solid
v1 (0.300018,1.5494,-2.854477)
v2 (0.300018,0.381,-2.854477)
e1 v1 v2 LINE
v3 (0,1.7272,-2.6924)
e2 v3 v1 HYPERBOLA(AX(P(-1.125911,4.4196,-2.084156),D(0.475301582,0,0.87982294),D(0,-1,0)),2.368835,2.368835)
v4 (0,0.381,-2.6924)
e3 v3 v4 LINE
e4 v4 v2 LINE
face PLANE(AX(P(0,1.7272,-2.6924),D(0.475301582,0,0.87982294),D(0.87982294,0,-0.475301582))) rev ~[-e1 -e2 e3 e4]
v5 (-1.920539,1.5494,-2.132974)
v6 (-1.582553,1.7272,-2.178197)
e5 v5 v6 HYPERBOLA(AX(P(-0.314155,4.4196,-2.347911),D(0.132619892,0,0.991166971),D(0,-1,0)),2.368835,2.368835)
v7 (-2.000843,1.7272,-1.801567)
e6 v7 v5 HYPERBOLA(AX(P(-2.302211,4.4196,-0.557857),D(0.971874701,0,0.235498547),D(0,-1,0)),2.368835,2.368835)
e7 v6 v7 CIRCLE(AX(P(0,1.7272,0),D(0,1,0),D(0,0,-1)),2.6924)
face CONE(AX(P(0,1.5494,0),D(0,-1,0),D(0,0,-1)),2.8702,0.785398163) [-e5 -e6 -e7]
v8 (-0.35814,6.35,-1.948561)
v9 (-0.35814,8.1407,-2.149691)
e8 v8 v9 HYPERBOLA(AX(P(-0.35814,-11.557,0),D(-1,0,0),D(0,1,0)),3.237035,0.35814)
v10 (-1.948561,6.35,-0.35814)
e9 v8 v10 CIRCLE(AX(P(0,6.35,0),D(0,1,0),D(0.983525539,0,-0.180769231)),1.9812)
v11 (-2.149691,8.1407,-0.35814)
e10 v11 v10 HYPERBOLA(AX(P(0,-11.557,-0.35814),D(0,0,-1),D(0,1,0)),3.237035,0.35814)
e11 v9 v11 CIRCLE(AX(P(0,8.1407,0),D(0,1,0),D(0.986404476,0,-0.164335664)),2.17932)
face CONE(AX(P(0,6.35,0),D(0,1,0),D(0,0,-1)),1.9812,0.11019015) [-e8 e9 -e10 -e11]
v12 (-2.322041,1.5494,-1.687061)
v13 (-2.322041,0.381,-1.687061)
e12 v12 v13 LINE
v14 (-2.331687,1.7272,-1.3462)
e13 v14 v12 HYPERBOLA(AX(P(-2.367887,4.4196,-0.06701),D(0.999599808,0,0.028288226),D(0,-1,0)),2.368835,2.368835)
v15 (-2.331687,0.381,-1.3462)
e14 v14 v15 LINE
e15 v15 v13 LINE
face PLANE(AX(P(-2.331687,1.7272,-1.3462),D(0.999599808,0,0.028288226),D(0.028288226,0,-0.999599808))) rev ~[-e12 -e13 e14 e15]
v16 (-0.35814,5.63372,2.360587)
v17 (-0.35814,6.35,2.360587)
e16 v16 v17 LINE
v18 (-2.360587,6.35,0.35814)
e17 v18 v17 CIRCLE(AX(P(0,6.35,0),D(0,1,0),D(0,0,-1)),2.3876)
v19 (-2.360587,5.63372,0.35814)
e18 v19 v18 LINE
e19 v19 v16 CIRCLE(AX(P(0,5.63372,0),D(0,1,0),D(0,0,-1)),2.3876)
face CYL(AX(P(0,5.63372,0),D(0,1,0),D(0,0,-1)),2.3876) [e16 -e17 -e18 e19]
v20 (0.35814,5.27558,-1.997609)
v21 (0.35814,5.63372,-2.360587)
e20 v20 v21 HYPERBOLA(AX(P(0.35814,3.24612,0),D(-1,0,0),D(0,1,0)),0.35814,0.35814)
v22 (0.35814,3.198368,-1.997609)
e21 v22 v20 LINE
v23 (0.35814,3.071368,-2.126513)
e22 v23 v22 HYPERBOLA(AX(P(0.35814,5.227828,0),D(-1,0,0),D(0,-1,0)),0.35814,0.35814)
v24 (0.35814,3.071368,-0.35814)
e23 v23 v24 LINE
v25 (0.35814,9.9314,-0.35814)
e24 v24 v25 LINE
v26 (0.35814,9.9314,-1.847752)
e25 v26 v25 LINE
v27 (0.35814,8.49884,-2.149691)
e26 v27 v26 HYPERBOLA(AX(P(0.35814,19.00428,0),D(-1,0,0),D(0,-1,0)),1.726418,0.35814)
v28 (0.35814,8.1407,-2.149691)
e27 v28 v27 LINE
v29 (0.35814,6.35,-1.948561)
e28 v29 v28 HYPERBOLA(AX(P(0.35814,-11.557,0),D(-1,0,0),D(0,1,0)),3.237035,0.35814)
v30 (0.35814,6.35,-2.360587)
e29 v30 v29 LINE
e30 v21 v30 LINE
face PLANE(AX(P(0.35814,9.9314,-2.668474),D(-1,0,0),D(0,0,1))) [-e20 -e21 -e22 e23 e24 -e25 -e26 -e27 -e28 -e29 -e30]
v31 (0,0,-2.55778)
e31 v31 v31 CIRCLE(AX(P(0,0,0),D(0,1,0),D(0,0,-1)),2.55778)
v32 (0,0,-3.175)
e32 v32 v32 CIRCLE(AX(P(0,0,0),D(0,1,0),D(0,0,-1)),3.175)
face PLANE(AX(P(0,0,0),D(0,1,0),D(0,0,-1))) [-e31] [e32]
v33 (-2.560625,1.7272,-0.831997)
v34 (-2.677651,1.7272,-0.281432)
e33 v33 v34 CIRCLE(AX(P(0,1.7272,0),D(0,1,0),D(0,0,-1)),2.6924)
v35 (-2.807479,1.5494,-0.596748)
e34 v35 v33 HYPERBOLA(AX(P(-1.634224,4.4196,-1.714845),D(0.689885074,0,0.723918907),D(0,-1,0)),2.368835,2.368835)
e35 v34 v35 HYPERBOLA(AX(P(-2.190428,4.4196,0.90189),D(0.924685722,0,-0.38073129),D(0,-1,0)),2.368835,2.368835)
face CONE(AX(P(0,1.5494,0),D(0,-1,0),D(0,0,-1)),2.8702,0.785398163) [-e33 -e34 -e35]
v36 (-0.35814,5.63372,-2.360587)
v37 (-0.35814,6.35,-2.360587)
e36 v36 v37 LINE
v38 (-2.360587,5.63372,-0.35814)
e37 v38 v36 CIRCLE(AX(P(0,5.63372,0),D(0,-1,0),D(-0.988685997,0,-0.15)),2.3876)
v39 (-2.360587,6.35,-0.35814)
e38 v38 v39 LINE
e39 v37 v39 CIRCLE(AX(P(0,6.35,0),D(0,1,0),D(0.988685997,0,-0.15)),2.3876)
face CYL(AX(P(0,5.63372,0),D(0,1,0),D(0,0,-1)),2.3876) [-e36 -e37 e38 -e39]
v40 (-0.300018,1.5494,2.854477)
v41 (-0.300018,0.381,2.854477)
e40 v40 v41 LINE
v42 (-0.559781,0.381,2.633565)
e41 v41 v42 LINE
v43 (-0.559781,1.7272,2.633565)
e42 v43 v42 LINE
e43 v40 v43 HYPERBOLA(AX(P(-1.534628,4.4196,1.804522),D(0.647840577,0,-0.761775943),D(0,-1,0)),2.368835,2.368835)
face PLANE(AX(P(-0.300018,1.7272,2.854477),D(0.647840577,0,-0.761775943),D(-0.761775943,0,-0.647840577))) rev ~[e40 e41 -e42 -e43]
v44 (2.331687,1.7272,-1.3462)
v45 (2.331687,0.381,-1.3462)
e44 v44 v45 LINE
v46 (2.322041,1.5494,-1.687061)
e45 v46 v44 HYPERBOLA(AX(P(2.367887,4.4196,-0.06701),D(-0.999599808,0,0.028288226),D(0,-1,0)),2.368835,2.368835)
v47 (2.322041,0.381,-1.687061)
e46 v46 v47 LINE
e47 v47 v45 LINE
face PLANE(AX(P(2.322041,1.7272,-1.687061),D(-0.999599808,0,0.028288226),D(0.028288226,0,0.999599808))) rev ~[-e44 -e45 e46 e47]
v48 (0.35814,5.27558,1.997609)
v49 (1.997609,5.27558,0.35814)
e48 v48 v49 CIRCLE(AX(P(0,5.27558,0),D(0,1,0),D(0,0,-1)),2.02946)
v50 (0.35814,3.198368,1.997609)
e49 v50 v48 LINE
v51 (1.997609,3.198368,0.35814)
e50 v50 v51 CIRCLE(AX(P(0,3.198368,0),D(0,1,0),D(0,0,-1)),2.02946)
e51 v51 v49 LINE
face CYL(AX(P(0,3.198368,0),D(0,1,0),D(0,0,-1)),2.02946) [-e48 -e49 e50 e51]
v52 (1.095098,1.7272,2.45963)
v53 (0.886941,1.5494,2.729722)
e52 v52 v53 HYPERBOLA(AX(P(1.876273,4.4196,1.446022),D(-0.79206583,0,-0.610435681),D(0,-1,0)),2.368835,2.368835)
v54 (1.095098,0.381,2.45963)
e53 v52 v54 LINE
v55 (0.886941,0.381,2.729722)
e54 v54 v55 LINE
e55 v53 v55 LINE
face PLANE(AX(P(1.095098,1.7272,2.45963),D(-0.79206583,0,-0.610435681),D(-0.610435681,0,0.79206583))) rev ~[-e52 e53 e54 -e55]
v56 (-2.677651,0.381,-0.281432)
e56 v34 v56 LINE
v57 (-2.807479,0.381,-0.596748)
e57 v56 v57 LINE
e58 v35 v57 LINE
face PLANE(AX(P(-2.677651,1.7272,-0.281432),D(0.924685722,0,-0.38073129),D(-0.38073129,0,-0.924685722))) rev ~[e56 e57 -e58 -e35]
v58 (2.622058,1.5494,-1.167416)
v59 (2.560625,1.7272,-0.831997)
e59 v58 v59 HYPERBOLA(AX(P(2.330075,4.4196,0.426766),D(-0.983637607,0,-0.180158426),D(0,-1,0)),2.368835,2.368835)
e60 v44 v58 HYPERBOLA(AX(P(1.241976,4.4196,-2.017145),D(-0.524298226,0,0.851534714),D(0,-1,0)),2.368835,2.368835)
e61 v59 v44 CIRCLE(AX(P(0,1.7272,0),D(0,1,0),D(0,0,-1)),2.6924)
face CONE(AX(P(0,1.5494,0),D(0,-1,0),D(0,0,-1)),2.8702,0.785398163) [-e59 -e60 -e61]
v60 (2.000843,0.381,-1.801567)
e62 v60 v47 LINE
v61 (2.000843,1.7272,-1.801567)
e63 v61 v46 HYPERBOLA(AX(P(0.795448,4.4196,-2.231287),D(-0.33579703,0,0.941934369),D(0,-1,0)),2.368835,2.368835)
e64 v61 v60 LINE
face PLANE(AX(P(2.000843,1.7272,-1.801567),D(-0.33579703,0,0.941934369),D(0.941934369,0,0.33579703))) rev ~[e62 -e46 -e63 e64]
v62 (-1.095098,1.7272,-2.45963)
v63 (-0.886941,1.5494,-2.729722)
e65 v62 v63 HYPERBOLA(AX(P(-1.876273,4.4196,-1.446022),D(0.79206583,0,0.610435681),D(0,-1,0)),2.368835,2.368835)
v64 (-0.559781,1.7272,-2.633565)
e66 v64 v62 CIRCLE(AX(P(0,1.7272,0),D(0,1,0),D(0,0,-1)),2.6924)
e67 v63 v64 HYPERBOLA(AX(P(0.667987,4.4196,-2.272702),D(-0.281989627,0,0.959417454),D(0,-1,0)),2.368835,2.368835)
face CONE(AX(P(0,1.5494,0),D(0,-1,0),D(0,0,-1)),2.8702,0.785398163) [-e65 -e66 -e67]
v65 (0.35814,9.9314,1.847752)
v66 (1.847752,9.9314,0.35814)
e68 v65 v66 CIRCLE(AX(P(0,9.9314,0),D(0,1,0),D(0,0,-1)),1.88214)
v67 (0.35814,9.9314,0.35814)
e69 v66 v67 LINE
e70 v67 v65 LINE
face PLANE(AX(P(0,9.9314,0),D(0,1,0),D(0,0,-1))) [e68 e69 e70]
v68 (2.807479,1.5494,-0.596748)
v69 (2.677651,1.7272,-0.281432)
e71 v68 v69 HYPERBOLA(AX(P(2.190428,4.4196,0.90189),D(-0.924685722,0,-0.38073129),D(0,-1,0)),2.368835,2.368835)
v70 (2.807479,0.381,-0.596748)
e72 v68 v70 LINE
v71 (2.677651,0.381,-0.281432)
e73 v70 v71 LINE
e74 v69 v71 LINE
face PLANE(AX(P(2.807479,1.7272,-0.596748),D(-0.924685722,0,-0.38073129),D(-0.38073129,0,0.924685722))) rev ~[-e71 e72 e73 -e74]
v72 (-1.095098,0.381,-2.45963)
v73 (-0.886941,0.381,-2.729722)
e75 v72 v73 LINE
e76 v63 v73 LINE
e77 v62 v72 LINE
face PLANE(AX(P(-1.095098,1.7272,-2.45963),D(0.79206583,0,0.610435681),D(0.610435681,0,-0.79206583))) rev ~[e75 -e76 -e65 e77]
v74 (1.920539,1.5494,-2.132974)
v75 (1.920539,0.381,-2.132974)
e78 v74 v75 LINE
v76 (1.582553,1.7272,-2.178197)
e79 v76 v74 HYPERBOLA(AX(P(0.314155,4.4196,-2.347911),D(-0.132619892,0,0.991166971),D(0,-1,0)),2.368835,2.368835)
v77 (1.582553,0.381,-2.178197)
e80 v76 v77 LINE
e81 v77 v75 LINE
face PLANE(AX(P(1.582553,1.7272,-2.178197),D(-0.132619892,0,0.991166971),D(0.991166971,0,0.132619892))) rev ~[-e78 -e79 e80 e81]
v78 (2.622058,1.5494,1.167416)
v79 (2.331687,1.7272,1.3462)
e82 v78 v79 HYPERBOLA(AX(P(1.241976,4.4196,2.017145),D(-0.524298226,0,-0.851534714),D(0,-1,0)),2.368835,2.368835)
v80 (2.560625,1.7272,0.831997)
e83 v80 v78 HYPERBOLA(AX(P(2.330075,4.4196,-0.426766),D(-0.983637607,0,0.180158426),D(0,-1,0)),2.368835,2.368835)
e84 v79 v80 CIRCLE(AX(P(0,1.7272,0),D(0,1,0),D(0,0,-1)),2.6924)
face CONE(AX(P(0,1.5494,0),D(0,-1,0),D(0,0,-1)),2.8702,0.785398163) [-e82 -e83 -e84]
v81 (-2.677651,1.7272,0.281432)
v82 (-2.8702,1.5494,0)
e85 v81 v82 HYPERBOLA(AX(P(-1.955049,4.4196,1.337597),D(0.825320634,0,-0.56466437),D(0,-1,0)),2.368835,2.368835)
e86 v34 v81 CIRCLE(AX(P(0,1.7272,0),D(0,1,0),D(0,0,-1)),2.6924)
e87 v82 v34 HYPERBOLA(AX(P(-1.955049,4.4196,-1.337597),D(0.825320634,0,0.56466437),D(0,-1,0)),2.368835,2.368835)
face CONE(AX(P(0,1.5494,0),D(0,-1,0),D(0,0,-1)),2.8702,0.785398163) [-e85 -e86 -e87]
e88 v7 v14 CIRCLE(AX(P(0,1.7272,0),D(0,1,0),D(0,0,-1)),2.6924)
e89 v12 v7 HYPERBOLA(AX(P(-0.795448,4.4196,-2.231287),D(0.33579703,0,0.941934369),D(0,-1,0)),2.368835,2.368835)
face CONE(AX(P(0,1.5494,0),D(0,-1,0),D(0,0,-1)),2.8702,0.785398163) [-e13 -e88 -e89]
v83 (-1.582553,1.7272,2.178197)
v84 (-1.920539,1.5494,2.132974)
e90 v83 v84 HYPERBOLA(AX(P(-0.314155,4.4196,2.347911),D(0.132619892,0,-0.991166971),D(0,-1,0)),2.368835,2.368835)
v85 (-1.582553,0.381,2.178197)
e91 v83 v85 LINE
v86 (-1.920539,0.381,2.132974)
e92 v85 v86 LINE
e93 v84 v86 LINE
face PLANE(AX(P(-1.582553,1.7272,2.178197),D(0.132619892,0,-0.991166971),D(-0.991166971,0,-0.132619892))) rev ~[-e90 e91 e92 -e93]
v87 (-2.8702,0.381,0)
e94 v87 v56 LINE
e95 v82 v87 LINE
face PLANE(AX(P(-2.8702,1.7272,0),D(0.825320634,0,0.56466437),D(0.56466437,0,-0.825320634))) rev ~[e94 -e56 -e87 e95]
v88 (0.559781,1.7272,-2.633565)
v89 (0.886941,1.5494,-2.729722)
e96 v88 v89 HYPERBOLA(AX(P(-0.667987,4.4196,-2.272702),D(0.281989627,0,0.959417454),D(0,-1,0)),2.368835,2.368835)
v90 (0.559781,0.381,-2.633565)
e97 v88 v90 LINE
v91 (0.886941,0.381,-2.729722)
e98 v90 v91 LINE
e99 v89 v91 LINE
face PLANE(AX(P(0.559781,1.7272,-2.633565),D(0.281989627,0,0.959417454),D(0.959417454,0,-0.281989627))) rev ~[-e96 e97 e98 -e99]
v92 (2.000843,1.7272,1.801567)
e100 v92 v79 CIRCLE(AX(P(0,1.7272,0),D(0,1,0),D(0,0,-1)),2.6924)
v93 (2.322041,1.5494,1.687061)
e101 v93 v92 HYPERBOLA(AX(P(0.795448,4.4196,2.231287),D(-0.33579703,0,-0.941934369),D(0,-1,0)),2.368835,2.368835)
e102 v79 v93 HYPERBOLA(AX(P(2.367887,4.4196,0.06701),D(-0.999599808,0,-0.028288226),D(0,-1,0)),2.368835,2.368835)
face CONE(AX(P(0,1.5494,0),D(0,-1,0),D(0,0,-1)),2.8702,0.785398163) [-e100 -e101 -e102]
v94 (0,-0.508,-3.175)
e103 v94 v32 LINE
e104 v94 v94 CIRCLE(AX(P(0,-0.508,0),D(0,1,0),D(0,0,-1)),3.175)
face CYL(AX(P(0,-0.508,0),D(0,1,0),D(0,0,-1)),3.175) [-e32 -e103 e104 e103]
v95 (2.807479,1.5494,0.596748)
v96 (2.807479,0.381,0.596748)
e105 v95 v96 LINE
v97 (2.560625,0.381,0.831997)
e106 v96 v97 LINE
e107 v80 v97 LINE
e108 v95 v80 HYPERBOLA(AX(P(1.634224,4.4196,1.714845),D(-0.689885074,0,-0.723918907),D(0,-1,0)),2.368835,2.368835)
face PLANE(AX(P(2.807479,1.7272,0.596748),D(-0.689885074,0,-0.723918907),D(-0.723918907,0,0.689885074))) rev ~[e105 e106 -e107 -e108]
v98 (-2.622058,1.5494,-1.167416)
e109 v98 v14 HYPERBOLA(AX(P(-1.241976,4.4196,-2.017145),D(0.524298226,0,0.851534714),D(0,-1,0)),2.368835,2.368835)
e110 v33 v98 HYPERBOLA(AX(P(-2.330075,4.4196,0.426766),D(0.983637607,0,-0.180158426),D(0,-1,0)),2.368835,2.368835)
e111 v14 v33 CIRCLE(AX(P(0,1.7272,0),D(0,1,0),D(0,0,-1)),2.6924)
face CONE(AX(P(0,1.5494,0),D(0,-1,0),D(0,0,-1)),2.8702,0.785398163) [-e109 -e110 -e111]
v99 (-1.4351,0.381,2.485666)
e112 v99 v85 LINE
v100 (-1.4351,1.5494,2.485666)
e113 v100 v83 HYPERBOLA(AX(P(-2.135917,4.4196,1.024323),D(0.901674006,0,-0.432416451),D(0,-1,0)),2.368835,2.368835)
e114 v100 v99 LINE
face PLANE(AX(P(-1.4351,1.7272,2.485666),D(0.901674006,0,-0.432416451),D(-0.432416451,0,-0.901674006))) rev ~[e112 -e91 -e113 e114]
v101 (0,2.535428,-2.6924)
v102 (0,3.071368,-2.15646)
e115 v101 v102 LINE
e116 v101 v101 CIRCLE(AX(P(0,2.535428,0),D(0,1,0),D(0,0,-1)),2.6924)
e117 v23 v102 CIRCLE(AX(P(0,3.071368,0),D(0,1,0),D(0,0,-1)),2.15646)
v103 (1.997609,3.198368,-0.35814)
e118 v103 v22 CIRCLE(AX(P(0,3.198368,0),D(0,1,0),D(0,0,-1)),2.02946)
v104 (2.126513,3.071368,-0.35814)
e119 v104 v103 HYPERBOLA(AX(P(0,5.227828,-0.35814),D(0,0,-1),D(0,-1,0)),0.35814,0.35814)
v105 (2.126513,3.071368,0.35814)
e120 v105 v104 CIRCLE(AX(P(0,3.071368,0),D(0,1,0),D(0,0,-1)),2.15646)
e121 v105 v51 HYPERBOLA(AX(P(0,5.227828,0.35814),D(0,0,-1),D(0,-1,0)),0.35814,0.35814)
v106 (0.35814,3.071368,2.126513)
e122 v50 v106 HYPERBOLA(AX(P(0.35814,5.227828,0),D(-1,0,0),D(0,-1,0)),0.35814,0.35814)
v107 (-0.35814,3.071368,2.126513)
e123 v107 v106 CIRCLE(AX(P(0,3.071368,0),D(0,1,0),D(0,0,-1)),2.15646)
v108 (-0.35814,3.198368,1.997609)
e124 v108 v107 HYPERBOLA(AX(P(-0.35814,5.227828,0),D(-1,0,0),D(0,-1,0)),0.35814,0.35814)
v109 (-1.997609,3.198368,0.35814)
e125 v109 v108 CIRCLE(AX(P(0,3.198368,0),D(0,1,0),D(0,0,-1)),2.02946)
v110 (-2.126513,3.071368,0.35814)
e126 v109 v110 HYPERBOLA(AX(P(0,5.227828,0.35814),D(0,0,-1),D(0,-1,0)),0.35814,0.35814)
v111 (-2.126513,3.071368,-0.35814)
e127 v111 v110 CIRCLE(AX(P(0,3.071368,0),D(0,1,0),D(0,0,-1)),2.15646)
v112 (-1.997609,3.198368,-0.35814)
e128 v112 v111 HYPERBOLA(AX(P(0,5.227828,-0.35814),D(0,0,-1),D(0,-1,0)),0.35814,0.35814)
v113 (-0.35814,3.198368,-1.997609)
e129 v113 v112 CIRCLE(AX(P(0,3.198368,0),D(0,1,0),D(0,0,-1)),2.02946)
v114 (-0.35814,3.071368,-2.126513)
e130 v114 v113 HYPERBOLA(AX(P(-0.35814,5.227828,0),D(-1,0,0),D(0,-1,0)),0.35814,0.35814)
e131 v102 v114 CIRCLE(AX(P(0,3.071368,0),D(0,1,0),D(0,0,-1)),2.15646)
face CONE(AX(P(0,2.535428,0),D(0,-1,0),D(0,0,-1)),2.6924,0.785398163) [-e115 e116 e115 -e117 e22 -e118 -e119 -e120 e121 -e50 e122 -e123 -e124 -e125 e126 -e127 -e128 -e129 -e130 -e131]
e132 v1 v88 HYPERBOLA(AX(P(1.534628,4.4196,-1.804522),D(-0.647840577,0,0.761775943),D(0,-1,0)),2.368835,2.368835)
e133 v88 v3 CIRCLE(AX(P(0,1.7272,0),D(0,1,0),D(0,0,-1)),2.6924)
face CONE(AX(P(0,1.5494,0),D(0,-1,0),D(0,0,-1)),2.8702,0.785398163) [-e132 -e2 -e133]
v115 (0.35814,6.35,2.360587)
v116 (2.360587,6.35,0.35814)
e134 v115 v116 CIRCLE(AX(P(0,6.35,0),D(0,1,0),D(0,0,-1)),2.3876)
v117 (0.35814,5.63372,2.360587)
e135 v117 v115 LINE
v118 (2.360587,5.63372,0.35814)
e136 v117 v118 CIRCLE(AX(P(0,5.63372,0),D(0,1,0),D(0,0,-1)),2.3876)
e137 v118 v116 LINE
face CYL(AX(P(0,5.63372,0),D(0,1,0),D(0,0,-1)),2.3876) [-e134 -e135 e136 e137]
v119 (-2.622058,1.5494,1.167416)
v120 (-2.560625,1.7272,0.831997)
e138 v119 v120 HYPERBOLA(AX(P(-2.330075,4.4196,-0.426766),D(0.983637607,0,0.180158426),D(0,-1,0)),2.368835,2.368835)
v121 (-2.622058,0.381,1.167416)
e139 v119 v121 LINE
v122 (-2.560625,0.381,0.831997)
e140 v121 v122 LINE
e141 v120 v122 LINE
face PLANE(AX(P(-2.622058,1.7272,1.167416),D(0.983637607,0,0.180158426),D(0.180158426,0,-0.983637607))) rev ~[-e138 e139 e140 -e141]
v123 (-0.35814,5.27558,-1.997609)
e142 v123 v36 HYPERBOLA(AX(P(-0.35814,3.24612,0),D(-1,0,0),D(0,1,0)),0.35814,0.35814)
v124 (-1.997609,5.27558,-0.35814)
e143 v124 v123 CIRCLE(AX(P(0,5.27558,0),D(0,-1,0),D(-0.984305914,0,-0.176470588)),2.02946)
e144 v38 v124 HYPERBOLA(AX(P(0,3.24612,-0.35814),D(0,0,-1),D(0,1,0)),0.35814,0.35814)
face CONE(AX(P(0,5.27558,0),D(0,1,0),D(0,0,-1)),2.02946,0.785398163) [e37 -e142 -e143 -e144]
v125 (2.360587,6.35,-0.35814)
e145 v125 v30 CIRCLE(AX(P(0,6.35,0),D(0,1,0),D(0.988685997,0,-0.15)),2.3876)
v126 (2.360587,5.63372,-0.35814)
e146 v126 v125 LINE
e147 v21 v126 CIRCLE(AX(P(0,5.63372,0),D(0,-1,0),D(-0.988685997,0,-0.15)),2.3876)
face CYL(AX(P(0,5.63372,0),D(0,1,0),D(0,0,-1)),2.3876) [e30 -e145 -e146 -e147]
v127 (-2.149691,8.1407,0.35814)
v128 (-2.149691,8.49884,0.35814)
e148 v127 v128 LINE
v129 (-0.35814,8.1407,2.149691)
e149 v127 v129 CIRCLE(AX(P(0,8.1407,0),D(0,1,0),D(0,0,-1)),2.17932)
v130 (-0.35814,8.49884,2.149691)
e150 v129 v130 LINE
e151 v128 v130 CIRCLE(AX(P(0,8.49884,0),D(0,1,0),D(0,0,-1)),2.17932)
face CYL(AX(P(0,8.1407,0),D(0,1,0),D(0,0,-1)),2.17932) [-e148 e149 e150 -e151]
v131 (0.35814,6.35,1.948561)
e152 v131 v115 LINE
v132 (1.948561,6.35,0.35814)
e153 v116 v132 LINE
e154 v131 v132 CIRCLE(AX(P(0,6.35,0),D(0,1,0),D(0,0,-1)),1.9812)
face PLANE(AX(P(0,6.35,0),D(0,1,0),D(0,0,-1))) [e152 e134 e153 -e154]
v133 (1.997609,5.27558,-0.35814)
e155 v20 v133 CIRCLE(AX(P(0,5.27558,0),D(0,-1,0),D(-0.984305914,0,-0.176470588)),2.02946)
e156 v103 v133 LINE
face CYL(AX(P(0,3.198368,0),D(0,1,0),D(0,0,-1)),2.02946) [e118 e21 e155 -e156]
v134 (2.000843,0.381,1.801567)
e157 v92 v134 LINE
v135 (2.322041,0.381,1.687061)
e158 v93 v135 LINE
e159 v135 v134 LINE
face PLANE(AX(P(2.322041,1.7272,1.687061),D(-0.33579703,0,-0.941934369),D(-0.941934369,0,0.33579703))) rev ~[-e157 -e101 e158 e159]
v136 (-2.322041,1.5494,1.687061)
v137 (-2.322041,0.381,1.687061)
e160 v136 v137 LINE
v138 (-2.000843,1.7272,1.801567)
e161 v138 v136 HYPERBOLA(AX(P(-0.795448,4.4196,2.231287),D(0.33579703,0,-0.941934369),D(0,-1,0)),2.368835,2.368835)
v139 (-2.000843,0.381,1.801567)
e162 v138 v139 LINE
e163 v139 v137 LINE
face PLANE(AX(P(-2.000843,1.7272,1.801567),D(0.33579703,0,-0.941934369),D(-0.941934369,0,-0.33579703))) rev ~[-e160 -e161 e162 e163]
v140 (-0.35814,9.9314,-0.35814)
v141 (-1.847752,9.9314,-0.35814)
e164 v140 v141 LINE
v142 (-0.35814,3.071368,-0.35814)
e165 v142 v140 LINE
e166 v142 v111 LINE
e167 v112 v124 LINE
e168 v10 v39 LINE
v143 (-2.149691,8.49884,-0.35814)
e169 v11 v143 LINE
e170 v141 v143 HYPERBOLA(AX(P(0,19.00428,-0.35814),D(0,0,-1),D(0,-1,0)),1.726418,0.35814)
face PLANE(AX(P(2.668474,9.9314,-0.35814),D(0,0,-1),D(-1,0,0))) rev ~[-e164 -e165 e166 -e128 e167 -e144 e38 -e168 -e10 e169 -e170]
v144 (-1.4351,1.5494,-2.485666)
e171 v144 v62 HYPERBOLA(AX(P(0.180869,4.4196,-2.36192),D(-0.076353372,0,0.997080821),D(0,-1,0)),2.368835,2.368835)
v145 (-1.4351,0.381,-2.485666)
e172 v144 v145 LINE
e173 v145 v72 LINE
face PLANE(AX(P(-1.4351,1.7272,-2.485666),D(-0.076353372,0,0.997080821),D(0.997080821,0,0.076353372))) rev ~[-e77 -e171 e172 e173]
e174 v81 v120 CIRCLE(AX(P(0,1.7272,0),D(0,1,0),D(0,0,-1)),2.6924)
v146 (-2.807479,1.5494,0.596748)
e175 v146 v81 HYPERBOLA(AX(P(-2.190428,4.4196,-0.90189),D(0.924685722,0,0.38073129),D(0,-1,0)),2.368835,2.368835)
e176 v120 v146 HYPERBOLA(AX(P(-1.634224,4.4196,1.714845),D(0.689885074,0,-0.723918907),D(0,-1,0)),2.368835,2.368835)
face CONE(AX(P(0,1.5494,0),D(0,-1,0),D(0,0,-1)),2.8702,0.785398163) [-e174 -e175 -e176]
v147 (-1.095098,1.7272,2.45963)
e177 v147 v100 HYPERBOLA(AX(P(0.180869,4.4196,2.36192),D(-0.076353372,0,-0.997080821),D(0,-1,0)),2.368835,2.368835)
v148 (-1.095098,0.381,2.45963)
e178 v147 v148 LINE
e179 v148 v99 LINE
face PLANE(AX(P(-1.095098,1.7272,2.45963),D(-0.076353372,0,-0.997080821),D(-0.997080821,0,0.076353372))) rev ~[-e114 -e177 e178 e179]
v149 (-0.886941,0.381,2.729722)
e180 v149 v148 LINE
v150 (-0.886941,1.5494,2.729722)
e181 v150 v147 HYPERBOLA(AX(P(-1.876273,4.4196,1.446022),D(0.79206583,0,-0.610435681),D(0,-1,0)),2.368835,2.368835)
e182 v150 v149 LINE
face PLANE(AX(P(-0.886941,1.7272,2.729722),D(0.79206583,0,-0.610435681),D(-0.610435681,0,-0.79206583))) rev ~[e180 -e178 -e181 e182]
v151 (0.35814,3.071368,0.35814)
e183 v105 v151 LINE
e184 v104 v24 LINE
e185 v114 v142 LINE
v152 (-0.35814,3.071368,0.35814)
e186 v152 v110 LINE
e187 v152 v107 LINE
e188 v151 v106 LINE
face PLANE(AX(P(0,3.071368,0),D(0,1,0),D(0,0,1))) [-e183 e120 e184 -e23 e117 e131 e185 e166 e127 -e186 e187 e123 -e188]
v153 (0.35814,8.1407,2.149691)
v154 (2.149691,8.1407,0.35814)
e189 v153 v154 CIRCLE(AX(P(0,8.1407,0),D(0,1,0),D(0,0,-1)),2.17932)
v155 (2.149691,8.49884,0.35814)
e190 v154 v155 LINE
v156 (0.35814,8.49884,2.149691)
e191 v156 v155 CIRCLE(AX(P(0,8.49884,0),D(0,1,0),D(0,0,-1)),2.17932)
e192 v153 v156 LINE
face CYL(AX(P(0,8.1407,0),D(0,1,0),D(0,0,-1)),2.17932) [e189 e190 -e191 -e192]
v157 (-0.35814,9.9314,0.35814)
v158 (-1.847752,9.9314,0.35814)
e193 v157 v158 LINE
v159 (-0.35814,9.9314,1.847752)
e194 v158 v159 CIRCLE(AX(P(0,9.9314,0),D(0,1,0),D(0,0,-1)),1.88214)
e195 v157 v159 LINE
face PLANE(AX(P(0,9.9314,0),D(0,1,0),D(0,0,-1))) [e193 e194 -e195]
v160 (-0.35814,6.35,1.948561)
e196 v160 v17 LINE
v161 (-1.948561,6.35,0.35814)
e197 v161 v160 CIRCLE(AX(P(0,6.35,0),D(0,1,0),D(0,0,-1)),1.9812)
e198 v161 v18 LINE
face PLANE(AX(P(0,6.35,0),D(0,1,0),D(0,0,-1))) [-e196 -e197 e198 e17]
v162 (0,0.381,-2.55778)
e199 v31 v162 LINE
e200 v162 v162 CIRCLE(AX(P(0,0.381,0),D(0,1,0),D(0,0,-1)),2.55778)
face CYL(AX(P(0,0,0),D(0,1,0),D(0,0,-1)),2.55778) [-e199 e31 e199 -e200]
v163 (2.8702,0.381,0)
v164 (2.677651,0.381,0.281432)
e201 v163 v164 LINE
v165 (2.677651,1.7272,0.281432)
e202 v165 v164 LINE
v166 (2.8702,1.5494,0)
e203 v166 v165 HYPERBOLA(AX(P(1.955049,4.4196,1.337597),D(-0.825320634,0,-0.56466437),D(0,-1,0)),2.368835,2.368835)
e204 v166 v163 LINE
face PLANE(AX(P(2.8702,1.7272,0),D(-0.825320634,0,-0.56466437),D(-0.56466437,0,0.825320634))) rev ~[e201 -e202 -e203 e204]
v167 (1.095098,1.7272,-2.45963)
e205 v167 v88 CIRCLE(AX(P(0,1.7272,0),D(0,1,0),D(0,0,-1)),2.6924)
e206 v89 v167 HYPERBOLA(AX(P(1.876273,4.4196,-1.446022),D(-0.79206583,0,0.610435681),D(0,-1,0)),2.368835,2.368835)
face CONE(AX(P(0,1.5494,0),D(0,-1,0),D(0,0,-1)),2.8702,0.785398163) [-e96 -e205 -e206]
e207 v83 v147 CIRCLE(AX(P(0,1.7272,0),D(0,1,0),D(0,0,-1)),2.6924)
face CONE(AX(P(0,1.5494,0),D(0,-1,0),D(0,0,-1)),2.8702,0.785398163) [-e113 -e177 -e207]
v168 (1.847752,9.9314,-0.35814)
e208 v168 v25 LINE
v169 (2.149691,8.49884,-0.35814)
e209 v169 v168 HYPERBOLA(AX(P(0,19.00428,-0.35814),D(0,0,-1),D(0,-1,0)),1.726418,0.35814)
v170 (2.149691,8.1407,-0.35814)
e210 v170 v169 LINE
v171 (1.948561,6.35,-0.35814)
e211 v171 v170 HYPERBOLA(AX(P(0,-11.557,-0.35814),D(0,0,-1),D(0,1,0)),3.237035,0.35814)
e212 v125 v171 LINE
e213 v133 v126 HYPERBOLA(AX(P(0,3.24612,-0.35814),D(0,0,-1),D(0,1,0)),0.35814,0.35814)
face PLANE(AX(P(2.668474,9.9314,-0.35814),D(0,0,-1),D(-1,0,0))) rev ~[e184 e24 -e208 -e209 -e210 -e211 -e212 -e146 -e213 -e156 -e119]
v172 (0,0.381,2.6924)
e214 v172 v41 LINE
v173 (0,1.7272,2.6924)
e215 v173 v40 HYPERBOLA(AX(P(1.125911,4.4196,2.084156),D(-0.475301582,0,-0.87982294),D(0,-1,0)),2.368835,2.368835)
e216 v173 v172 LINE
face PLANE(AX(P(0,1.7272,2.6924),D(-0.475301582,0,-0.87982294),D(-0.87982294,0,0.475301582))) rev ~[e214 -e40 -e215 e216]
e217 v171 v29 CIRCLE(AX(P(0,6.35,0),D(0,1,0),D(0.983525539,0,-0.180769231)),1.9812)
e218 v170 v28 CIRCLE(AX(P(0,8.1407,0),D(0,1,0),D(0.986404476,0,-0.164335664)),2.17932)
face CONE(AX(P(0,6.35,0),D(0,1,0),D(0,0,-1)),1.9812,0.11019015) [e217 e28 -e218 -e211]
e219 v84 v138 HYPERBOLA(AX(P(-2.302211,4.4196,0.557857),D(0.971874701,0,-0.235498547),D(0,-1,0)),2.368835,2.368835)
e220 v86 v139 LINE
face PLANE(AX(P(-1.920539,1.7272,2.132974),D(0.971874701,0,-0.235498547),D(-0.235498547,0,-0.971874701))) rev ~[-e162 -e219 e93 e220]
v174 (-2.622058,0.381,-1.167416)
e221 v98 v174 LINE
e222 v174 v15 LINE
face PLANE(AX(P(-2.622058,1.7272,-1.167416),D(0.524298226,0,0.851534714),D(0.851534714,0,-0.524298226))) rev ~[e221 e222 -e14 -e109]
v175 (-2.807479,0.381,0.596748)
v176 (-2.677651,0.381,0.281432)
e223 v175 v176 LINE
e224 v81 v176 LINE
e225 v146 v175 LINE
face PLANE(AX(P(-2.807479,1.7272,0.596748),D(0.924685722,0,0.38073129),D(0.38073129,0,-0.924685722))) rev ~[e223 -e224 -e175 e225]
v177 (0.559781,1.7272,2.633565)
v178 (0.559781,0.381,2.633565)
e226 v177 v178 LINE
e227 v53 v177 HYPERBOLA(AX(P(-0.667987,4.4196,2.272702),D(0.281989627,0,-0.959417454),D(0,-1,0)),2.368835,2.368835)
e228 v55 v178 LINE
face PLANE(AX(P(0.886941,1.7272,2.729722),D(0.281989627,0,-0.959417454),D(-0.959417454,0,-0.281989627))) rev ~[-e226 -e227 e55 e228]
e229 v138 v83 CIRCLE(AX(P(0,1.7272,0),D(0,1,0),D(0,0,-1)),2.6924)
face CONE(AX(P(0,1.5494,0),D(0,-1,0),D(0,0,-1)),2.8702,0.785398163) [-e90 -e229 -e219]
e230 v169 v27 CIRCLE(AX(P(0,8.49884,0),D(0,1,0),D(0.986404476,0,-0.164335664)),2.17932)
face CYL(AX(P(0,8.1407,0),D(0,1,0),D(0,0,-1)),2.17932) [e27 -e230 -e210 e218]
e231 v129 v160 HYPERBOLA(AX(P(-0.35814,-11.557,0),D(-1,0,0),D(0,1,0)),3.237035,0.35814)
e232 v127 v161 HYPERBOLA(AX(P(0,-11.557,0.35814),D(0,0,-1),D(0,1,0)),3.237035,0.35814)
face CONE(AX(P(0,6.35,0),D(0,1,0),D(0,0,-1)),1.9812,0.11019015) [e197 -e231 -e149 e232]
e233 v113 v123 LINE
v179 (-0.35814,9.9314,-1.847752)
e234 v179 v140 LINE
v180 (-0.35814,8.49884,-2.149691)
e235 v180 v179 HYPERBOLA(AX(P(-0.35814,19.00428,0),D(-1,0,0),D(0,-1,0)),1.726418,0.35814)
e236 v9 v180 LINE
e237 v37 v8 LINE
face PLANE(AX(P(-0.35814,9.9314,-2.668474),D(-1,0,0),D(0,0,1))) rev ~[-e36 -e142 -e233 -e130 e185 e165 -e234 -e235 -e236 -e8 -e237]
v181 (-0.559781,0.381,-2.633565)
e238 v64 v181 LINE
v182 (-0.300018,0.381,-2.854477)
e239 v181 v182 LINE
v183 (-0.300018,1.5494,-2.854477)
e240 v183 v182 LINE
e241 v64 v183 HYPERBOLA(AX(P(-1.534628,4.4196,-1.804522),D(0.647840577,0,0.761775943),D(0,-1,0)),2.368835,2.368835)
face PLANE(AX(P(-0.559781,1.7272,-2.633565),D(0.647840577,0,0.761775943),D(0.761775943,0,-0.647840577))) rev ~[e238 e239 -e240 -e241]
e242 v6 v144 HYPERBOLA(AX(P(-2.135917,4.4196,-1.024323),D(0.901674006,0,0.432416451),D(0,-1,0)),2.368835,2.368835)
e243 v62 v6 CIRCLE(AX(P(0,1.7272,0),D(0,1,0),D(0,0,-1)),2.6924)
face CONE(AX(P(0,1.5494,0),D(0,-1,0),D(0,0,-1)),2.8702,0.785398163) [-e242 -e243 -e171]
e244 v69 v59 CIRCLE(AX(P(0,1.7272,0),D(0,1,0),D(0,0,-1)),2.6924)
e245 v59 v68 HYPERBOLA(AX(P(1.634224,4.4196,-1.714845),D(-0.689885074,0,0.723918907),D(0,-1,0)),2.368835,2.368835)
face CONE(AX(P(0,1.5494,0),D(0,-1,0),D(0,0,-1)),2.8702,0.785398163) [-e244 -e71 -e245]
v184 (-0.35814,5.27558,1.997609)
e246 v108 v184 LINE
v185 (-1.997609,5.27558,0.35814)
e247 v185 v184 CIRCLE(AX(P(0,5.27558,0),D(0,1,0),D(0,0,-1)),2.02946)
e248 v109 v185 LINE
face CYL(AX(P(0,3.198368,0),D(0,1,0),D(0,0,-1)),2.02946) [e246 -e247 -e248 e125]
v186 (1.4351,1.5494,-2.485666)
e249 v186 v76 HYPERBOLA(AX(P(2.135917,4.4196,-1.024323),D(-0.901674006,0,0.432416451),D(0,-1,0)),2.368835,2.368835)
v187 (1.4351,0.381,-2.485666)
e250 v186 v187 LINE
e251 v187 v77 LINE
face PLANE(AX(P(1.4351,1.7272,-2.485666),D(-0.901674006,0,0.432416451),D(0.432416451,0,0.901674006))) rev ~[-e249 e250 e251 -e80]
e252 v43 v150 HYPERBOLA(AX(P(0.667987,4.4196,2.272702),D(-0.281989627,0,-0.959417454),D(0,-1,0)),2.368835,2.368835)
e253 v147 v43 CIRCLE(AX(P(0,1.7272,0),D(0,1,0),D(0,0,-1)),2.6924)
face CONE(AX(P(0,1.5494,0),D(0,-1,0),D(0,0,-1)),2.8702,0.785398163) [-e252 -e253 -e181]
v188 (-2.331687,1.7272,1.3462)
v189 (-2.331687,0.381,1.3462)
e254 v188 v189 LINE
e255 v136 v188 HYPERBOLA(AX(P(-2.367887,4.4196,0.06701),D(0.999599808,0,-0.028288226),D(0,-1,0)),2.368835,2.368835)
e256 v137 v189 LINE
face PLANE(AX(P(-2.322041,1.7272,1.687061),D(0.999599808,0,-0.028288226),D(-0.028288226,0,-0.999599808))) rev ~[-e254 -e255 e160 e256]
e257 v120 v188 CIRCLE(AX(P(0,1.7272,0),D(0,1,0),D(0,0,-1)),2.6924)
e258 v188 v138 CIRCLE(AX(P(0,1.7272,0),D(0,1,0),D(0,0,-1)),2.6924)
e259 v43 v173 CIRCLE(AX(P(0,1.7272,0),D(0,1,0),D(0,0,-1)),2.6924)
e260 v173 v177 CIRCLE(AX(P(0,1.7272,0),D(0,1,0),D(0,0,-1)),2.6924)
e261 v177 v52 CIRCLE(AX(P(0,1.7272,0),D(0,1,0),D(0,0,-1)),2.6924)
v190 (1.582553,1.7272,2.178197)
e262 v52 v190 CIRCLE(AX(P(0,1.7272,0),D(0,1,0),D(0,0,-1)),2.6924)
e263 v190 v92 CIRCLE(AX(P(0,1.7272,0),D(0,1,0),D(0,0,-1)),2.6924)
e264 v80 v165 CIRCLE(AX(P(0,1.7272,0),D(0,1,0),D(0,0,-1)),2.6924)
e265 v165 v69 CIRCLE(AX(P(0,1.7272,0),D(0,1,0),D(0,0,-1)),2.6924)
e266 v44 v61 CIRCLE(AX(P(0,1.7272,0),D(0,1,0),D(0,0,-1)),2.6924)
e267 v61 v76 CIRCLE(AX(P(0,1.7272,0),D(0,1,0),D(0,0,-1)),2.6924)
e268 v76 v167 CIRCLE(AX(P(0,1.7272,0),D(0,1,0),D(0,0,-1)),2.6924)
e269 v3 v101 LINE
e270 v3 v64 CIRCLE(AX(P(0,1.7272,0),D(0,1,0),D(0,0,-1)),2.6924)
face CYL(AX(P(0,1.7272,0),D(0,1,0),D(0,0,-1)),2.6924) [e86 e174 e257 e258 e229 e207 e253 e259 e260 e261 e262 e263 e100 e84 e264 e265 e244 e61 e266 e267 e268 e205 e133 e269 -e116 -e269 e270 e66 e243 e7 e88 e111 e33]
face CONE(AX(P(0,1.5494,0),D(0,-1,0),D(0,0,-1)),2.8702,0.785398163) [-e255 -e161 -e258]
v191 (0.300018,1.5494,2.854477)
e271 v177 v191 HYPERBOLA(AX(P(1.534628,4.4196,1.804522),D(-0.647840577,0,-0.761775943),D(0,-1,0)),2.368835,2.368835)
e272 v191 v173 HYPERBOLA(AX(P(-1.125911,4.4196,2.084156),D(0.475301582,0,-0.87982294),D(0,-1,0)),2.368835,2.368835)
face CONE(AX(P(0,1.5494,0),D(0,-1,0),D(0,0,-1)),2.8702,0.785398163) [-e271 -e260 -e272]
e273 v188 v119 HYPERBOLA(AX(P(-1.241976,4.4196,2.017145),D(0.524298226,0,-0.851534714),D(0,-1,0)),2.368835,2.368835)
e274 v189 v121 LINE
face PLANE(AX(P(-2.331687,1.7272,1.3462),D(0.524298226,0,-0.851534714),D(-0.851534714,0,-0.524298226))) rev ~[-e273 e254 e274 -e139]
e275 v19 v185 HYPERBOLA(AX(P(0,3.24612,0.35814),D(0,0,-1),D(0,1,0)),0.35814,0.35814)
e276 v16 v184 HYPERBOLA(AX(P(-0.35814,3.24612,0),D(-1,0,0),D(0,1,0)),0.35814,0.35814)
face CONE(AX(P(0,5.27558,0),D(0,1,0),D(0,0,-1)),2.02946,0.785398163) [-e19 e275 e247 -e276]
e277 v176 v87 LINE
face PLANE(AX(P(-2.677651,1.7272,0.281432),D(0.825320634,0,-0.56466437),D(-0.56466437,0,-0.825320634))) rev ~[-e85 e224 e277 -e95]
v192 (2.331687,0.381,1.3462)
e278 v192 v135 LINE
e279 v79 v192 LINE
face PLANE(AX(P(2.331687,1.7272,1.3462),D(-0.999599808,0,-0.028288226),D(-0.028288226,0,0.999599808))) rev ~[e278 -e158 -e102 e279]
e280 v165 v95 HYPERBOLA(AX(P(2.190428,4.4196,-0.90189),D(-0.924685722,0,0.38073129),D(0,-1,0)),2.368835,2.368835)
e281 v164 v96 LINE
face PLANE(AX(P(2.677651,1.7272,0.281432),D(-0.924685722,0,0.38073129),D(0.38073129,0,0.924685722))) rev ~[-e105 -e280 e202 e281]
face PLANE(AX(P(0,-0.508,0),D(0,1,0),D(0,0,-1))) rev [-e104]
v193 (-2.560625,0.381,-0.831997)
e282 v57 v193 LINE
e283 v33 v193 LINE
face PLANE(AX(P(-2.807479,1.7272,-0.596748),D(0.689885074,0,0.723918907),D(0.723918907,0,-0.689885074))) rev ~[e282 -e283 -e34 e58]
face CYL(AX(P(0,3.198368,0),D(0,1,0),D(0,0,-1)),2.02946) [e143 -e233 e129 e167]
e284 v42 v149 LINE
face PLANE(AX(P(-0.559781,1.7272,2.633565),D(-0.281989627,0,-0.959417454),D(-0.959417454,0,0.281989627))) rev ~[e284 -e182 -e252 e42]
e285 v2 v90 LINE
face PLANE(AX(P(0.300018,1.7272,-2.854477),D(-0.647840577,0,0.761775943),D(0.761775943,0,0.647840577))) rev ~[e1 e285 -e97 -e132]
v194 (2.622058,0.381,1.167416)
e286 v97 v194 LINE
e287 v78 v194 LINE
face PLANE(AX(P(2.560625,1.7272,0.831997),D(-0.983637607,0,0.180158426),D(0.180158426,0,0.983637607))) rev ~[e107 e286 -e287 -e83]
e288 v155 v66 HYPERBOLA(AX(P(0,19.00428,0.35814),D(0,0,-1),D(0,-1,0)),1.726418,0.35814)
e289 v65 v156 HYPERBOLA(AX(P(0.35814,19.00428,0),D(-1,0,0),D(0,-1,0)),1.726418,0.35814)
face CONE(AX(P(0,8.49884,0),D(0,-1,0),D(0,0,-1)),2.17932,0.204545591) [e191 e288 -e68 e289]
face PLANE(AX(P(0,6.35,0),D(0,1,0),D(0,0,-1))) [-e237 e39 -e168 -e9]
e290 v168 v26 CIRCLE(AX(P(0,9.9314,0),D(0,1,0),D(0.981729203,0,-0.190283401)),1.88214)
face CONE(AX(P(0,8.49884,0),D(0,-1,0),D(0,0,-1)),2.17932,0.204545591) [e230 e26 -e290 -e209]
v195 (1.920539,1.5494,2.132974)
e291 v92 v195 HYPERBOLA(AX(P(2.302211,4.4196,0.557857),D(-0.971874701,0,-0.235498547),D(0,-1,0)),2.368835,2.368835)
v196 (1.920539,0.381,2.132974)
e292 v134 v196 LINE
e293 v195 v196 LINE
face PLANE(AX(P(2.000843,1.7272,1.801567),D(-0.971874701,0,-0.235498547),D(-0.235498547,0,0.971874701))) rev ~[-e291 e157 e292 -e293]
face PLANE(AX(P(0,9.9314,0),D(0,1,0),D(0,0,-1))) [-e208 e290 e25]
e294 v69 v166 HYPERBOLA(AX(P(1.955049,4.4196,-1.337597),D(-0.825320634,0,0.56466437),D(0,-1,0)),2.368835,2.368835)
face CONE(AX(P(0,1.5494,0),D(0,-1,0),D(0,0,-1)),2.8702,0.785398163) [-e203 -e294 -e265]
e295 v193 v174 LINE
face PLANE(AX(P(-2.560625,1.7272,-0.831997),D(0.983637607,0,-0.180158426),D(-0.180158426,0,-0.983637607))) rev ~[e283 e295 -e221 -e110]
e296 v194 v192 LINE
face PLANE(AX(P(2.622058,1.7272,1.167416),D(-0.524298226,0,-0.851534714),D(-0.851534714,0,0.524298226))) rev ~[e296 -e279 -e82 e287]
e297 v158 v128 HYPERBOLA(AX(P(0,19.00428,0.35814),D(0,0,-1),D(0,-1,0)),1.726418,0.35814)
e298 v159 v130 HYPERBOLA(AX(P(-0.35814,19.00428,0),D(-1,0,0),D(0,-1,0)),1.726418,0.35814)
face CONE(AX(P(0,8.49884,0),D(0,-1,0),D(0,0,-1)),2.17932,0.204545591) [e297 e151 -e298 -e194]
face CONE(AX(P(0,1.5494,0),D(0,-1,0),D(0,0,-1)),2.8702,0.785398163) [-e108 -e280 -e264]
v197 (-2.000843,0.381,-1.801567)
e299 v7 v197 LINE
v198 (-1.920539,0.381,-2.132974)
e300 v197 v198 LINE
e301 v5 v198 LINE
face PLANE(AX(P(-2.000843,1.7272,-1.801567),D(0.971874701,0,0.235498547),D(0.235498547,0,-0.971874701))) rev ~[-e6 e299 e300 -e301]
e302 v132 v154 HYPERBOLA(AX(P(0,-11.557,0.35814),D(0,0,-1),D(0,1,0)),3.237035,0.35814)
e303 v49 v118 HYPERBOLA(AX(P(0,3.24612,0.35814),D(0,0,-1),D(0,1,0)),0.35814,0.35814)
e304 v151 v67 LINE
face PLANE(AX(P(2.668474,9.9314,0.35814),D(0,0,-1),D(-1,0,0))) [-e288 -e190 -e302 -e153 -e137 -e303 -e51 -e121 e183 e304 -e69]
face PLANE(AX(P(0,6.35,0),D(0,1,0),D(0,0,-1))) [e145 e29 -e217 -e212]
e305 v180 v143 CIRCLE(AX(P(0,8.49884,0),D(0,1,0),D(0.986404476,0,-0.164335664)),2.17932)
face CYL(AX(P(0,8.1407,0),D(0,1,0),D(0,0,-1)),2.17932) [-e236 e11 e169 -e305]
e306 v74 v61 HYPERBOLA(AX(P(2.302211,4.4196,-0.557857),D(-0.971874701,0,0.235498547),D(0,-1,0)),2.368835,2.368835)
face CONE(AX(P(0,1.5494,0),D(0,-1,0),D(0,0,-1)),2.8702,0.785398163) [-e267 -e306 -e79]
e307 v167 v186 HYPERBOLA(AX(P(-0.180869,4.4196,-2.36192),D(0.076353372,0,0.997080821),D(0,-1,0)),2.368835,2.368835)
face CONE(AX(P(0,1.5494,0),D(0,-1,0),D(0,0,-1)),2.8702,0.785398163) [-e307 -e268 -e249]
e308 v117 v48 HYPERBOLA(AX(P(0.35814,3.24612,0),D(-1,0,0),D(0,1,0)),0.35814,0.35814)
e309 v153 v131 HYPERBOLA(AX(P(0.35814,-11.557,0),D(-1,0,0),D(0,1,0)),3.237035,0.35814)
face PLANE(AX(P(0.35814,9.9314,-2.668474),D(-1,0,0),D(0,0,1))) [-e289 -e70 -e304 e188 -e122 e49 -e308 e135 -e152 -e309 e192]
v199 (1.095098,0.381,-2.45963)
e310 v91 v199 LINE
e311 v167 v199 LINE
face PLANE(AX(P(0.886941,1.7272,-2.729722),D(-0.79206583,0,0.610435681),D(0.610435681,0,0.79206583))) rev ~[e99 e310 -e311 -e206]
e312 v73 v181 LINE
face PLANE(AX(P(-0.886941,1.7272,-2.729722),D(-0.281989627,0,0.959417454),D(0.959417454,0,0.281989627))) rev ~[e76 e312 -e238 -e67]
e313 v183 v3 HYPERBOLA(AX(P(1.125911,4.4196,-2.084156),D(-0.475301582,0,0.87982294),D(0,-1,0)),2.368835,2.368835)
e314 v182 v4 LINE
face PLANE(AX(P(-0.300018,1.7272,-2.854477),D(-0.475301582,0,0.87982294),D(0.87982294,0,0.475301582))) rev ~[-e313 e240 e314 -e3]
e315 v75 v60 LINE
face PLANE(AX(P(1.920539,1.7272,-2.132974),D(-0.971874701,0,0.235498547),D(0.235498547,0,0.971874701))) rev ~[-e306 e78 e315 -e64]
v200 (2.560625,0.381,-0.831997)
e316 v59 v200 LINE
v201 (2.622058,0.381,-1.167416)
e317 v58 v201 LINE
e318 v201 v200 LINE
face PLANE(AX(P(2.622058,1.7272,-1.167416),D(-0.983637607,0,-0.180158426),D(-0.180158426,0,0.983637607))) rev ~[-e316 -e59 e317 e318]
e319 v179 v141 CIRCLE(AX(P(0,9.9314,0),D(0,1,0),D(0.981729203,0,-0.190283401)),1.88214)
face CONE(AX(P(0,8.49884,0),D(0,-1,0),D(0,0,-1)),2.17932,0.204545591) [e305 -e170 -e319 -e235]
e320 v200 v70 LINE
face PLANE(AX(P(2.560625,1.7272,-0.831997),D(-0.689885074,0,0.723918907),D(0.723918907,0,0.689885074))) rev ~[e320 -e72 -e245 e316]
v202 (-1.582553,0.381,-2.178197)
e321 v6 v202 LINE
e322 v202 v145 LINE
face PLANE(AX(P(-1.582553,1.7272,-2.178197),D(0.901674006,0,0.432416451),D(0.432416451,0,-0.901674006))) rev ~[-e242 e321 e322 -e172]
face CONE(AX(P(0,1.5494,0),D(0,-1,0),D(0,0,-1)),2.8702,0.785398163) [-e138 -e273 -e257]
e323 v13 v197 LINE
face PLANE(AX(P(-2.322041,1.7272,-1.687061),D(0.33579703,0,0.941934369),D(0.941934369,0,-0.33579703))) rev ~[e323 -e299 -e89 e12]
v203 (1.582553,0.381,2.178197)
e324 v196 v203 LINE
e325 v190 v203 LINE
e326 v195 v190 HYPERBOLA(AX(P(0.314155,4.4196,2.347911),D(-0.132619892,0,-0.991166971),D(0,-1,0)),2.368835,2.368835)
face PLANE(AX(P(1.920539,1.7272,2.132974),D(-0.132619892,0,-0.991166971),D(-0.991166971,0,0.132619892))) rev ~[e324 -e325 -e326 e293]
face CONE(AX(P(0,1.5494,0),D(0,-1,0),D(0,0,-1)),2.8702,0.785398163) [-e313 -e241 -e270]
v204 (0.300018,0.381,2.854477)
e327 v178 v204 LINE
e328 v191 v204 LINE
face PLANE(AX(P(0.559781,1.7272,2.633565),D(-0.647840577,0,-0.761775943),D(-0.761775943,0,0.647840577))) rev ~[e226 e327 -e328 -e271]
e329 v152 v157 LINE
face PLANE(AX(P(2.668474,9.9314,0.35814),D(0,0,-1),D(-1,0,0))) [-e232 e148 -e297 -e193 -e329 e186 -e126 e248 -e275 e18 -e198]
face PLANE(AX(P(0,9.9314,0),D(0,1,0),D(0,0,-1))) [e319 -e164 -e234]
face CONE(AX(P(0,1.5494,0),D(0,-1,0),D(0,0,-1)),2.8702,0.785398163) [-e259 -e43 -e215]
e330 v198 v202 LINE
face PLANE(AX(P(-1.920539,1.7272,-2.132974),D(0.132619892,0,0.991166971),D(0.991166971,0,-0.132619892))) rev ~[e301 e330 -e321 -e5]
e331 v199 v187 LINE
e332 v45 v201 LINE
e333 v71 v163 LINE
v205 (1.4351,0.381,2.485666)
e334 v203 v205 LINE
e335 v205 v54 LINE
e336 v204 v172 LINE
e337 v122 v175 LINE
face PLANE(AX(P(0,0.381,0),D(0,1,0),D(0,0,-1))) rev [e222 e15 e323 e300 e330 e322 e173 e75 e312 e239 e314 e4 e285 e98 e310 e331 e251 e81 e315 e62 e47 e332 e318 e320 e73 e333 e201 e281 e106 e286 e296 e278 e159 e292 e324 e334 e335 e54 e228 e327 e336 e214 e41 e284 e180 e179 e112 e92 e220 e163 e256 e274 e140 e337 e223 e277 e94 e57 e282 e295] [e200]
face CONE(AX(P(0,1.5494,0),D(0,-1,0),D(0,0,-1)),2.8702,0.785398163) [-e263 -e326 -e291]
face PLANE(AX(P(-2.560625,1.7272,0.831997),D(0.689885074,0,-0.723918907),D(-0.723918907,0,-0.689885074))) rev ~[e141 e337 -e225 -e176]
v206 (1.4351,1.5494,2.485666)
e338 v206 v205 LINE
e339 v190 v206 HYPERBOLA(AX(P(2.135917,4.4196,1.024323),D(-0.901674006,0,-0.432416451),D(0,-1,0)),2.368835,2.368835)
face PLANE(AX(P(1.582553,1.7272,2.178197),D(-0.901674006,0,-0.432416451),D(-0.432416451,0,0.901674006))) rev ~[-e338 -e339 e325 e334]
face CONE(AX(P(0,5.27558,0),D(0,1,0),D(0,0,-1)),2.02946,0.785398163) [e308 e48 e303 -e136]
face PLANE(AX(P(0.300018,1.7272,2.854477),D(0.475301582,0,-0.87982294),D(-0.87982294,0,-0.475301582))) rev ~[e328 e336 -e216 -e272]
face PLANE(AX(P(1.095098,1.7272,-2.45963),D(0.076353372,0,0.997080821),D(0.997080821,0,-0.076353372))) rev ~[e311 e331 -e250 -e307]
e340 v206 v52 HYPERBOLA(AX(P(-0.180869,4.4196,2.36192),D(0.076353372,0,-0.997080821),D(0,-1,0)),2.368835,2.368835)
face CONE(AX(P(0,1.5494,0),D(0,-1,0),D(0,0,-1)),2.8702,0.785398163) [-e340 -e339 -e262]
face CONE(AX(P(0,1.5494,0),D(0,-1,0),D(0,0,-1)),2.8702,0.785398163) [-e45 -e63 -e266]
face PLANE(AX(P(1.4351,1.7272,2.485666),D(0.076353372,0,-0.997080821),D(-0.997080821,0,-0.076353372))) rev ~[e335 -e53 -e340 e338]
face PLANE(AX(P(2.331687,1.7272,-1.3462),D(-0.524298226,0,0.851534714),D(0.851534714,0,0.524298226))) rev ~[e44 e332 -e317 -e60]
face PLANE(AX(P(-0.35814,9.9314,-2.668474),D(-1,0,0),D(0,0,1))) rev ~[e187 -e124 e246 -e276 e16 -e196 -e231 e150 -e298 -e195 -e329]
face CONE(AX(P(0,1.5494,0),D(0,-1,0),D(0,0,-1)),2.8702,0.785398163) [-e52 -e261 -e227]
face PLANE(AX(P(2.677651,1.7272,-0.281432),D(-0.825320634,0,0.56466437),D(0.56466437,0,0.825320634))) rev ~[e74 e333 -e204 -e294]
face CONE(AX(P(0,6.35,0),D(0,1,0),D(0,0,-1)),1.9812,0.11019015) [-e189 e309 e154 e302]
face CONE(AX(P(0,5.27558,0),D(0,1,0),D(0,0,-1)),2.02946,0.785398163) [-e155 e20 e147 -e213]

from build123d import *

# Parameters (mm, degrees)
SLITCUTSKE_W       = 5.336948004
SLITCUTSKE_H       = 0.71628
SLITCUT_DEPTH      = 6.860032
SLITCUTPAT_COUNT   = 2
SLITCUTPAT_ANGLE   = 90
CLINCHCUT_START    = -1.3462
CLINCHCUT_DEPTH    = 1.3462
CLINCHCUTPAT_COUNT = 30
CLINCHCUTPAT_ANGLE = 348


with BuildPart() as part:
    # BodySke → Body (revolve)
    with BuildSketch(Plane.XY, mode=Mode.PRIVATE) as body_sk:
        Polygon((2.55778, 0), (2.55778, 0.381), (2.8702, 0.381), (2.8702, 1.5494), (2.6924, 1.7272), (2.6924, 2.535428), (2.02946, 3.198368), (2.02946, 5.27558), (2.3876, 5.63372), (2.3876, 6.35), (1.9812, 6.35), (2.17932, 8.1407), (2.17932, 8.49884), (1.88214, 9.9314), (0, 9.9314), (0, -0.508), (3.175, -0.508), (3.175, 0), align=None)
    revolve(body_sk.sketch.rotate(Axis((0, -0.508, 0), (0, 1, 0)), 90), axis=Axis((0, -0.508, 0), (0, 1, 0)))

    # SlitCutSke → SlitCut (cut)
    with BuildSketch(Plane(origin=(0, 9.9314, 0), x_dir=(-1, 0, 0), z_dir=(0, 1, 0))):
        Rectangle(SLITCUTSKE_W, SLITCUTSKE_H)
    slitcut = extrude(amount=-SLITCUT_DEPTH, mode=Mode.SUBTRACT)

    # SlitCutPat: SlitCut ×2 about axis
    slitcutpat_axis = Axis((0, -0.508, 0), (0, 1, 0))
    for i in range(1, SLITCUTPAT_COUNT):
        add(slitcut.rotate(slitcutpat_axis, i * SLITCUTPAT_ANGLE / (SLITCUTPAT_COUNT - 1)), mode=Mode.SUBTRACT)

    # CliRinCutSke → ClinchCut (cut)
    with BuildSketch(Plane.XZ.offset(-0.381).offset(CLINCHCUT_START)):
        with BuildLine():
            Line((0.300017595, 2.854476744), (0, 2.6924))
            Line((0, 2.6924), (-0.300017595, 2.854476744))
            ThreePointArc((-0.300017595, 2.854476744), (0, 2.8702), (0.300017595, 2.854476744))
        make_face()
    clinchcut = extrude(amount=CLINCHCUT_DEPTH, mode=Mode.SUBTRACT)

    # ClinchCutPat: ClinchCut ×30 about axis
    clinchcutpat_axis = Axis((0, -0.508, 0), (0, 1, 0))
    for i in range(1, CLINCHCUTPAT_COUNT):
        add(clinchcut.rotate(clinchcutpat_axis, i * CLINCHCUTPAT_ANGLE / (CLINCHCUTPAT_COUNT - 1)), mode=Mode.SUBTRACT)


solid = part.part
